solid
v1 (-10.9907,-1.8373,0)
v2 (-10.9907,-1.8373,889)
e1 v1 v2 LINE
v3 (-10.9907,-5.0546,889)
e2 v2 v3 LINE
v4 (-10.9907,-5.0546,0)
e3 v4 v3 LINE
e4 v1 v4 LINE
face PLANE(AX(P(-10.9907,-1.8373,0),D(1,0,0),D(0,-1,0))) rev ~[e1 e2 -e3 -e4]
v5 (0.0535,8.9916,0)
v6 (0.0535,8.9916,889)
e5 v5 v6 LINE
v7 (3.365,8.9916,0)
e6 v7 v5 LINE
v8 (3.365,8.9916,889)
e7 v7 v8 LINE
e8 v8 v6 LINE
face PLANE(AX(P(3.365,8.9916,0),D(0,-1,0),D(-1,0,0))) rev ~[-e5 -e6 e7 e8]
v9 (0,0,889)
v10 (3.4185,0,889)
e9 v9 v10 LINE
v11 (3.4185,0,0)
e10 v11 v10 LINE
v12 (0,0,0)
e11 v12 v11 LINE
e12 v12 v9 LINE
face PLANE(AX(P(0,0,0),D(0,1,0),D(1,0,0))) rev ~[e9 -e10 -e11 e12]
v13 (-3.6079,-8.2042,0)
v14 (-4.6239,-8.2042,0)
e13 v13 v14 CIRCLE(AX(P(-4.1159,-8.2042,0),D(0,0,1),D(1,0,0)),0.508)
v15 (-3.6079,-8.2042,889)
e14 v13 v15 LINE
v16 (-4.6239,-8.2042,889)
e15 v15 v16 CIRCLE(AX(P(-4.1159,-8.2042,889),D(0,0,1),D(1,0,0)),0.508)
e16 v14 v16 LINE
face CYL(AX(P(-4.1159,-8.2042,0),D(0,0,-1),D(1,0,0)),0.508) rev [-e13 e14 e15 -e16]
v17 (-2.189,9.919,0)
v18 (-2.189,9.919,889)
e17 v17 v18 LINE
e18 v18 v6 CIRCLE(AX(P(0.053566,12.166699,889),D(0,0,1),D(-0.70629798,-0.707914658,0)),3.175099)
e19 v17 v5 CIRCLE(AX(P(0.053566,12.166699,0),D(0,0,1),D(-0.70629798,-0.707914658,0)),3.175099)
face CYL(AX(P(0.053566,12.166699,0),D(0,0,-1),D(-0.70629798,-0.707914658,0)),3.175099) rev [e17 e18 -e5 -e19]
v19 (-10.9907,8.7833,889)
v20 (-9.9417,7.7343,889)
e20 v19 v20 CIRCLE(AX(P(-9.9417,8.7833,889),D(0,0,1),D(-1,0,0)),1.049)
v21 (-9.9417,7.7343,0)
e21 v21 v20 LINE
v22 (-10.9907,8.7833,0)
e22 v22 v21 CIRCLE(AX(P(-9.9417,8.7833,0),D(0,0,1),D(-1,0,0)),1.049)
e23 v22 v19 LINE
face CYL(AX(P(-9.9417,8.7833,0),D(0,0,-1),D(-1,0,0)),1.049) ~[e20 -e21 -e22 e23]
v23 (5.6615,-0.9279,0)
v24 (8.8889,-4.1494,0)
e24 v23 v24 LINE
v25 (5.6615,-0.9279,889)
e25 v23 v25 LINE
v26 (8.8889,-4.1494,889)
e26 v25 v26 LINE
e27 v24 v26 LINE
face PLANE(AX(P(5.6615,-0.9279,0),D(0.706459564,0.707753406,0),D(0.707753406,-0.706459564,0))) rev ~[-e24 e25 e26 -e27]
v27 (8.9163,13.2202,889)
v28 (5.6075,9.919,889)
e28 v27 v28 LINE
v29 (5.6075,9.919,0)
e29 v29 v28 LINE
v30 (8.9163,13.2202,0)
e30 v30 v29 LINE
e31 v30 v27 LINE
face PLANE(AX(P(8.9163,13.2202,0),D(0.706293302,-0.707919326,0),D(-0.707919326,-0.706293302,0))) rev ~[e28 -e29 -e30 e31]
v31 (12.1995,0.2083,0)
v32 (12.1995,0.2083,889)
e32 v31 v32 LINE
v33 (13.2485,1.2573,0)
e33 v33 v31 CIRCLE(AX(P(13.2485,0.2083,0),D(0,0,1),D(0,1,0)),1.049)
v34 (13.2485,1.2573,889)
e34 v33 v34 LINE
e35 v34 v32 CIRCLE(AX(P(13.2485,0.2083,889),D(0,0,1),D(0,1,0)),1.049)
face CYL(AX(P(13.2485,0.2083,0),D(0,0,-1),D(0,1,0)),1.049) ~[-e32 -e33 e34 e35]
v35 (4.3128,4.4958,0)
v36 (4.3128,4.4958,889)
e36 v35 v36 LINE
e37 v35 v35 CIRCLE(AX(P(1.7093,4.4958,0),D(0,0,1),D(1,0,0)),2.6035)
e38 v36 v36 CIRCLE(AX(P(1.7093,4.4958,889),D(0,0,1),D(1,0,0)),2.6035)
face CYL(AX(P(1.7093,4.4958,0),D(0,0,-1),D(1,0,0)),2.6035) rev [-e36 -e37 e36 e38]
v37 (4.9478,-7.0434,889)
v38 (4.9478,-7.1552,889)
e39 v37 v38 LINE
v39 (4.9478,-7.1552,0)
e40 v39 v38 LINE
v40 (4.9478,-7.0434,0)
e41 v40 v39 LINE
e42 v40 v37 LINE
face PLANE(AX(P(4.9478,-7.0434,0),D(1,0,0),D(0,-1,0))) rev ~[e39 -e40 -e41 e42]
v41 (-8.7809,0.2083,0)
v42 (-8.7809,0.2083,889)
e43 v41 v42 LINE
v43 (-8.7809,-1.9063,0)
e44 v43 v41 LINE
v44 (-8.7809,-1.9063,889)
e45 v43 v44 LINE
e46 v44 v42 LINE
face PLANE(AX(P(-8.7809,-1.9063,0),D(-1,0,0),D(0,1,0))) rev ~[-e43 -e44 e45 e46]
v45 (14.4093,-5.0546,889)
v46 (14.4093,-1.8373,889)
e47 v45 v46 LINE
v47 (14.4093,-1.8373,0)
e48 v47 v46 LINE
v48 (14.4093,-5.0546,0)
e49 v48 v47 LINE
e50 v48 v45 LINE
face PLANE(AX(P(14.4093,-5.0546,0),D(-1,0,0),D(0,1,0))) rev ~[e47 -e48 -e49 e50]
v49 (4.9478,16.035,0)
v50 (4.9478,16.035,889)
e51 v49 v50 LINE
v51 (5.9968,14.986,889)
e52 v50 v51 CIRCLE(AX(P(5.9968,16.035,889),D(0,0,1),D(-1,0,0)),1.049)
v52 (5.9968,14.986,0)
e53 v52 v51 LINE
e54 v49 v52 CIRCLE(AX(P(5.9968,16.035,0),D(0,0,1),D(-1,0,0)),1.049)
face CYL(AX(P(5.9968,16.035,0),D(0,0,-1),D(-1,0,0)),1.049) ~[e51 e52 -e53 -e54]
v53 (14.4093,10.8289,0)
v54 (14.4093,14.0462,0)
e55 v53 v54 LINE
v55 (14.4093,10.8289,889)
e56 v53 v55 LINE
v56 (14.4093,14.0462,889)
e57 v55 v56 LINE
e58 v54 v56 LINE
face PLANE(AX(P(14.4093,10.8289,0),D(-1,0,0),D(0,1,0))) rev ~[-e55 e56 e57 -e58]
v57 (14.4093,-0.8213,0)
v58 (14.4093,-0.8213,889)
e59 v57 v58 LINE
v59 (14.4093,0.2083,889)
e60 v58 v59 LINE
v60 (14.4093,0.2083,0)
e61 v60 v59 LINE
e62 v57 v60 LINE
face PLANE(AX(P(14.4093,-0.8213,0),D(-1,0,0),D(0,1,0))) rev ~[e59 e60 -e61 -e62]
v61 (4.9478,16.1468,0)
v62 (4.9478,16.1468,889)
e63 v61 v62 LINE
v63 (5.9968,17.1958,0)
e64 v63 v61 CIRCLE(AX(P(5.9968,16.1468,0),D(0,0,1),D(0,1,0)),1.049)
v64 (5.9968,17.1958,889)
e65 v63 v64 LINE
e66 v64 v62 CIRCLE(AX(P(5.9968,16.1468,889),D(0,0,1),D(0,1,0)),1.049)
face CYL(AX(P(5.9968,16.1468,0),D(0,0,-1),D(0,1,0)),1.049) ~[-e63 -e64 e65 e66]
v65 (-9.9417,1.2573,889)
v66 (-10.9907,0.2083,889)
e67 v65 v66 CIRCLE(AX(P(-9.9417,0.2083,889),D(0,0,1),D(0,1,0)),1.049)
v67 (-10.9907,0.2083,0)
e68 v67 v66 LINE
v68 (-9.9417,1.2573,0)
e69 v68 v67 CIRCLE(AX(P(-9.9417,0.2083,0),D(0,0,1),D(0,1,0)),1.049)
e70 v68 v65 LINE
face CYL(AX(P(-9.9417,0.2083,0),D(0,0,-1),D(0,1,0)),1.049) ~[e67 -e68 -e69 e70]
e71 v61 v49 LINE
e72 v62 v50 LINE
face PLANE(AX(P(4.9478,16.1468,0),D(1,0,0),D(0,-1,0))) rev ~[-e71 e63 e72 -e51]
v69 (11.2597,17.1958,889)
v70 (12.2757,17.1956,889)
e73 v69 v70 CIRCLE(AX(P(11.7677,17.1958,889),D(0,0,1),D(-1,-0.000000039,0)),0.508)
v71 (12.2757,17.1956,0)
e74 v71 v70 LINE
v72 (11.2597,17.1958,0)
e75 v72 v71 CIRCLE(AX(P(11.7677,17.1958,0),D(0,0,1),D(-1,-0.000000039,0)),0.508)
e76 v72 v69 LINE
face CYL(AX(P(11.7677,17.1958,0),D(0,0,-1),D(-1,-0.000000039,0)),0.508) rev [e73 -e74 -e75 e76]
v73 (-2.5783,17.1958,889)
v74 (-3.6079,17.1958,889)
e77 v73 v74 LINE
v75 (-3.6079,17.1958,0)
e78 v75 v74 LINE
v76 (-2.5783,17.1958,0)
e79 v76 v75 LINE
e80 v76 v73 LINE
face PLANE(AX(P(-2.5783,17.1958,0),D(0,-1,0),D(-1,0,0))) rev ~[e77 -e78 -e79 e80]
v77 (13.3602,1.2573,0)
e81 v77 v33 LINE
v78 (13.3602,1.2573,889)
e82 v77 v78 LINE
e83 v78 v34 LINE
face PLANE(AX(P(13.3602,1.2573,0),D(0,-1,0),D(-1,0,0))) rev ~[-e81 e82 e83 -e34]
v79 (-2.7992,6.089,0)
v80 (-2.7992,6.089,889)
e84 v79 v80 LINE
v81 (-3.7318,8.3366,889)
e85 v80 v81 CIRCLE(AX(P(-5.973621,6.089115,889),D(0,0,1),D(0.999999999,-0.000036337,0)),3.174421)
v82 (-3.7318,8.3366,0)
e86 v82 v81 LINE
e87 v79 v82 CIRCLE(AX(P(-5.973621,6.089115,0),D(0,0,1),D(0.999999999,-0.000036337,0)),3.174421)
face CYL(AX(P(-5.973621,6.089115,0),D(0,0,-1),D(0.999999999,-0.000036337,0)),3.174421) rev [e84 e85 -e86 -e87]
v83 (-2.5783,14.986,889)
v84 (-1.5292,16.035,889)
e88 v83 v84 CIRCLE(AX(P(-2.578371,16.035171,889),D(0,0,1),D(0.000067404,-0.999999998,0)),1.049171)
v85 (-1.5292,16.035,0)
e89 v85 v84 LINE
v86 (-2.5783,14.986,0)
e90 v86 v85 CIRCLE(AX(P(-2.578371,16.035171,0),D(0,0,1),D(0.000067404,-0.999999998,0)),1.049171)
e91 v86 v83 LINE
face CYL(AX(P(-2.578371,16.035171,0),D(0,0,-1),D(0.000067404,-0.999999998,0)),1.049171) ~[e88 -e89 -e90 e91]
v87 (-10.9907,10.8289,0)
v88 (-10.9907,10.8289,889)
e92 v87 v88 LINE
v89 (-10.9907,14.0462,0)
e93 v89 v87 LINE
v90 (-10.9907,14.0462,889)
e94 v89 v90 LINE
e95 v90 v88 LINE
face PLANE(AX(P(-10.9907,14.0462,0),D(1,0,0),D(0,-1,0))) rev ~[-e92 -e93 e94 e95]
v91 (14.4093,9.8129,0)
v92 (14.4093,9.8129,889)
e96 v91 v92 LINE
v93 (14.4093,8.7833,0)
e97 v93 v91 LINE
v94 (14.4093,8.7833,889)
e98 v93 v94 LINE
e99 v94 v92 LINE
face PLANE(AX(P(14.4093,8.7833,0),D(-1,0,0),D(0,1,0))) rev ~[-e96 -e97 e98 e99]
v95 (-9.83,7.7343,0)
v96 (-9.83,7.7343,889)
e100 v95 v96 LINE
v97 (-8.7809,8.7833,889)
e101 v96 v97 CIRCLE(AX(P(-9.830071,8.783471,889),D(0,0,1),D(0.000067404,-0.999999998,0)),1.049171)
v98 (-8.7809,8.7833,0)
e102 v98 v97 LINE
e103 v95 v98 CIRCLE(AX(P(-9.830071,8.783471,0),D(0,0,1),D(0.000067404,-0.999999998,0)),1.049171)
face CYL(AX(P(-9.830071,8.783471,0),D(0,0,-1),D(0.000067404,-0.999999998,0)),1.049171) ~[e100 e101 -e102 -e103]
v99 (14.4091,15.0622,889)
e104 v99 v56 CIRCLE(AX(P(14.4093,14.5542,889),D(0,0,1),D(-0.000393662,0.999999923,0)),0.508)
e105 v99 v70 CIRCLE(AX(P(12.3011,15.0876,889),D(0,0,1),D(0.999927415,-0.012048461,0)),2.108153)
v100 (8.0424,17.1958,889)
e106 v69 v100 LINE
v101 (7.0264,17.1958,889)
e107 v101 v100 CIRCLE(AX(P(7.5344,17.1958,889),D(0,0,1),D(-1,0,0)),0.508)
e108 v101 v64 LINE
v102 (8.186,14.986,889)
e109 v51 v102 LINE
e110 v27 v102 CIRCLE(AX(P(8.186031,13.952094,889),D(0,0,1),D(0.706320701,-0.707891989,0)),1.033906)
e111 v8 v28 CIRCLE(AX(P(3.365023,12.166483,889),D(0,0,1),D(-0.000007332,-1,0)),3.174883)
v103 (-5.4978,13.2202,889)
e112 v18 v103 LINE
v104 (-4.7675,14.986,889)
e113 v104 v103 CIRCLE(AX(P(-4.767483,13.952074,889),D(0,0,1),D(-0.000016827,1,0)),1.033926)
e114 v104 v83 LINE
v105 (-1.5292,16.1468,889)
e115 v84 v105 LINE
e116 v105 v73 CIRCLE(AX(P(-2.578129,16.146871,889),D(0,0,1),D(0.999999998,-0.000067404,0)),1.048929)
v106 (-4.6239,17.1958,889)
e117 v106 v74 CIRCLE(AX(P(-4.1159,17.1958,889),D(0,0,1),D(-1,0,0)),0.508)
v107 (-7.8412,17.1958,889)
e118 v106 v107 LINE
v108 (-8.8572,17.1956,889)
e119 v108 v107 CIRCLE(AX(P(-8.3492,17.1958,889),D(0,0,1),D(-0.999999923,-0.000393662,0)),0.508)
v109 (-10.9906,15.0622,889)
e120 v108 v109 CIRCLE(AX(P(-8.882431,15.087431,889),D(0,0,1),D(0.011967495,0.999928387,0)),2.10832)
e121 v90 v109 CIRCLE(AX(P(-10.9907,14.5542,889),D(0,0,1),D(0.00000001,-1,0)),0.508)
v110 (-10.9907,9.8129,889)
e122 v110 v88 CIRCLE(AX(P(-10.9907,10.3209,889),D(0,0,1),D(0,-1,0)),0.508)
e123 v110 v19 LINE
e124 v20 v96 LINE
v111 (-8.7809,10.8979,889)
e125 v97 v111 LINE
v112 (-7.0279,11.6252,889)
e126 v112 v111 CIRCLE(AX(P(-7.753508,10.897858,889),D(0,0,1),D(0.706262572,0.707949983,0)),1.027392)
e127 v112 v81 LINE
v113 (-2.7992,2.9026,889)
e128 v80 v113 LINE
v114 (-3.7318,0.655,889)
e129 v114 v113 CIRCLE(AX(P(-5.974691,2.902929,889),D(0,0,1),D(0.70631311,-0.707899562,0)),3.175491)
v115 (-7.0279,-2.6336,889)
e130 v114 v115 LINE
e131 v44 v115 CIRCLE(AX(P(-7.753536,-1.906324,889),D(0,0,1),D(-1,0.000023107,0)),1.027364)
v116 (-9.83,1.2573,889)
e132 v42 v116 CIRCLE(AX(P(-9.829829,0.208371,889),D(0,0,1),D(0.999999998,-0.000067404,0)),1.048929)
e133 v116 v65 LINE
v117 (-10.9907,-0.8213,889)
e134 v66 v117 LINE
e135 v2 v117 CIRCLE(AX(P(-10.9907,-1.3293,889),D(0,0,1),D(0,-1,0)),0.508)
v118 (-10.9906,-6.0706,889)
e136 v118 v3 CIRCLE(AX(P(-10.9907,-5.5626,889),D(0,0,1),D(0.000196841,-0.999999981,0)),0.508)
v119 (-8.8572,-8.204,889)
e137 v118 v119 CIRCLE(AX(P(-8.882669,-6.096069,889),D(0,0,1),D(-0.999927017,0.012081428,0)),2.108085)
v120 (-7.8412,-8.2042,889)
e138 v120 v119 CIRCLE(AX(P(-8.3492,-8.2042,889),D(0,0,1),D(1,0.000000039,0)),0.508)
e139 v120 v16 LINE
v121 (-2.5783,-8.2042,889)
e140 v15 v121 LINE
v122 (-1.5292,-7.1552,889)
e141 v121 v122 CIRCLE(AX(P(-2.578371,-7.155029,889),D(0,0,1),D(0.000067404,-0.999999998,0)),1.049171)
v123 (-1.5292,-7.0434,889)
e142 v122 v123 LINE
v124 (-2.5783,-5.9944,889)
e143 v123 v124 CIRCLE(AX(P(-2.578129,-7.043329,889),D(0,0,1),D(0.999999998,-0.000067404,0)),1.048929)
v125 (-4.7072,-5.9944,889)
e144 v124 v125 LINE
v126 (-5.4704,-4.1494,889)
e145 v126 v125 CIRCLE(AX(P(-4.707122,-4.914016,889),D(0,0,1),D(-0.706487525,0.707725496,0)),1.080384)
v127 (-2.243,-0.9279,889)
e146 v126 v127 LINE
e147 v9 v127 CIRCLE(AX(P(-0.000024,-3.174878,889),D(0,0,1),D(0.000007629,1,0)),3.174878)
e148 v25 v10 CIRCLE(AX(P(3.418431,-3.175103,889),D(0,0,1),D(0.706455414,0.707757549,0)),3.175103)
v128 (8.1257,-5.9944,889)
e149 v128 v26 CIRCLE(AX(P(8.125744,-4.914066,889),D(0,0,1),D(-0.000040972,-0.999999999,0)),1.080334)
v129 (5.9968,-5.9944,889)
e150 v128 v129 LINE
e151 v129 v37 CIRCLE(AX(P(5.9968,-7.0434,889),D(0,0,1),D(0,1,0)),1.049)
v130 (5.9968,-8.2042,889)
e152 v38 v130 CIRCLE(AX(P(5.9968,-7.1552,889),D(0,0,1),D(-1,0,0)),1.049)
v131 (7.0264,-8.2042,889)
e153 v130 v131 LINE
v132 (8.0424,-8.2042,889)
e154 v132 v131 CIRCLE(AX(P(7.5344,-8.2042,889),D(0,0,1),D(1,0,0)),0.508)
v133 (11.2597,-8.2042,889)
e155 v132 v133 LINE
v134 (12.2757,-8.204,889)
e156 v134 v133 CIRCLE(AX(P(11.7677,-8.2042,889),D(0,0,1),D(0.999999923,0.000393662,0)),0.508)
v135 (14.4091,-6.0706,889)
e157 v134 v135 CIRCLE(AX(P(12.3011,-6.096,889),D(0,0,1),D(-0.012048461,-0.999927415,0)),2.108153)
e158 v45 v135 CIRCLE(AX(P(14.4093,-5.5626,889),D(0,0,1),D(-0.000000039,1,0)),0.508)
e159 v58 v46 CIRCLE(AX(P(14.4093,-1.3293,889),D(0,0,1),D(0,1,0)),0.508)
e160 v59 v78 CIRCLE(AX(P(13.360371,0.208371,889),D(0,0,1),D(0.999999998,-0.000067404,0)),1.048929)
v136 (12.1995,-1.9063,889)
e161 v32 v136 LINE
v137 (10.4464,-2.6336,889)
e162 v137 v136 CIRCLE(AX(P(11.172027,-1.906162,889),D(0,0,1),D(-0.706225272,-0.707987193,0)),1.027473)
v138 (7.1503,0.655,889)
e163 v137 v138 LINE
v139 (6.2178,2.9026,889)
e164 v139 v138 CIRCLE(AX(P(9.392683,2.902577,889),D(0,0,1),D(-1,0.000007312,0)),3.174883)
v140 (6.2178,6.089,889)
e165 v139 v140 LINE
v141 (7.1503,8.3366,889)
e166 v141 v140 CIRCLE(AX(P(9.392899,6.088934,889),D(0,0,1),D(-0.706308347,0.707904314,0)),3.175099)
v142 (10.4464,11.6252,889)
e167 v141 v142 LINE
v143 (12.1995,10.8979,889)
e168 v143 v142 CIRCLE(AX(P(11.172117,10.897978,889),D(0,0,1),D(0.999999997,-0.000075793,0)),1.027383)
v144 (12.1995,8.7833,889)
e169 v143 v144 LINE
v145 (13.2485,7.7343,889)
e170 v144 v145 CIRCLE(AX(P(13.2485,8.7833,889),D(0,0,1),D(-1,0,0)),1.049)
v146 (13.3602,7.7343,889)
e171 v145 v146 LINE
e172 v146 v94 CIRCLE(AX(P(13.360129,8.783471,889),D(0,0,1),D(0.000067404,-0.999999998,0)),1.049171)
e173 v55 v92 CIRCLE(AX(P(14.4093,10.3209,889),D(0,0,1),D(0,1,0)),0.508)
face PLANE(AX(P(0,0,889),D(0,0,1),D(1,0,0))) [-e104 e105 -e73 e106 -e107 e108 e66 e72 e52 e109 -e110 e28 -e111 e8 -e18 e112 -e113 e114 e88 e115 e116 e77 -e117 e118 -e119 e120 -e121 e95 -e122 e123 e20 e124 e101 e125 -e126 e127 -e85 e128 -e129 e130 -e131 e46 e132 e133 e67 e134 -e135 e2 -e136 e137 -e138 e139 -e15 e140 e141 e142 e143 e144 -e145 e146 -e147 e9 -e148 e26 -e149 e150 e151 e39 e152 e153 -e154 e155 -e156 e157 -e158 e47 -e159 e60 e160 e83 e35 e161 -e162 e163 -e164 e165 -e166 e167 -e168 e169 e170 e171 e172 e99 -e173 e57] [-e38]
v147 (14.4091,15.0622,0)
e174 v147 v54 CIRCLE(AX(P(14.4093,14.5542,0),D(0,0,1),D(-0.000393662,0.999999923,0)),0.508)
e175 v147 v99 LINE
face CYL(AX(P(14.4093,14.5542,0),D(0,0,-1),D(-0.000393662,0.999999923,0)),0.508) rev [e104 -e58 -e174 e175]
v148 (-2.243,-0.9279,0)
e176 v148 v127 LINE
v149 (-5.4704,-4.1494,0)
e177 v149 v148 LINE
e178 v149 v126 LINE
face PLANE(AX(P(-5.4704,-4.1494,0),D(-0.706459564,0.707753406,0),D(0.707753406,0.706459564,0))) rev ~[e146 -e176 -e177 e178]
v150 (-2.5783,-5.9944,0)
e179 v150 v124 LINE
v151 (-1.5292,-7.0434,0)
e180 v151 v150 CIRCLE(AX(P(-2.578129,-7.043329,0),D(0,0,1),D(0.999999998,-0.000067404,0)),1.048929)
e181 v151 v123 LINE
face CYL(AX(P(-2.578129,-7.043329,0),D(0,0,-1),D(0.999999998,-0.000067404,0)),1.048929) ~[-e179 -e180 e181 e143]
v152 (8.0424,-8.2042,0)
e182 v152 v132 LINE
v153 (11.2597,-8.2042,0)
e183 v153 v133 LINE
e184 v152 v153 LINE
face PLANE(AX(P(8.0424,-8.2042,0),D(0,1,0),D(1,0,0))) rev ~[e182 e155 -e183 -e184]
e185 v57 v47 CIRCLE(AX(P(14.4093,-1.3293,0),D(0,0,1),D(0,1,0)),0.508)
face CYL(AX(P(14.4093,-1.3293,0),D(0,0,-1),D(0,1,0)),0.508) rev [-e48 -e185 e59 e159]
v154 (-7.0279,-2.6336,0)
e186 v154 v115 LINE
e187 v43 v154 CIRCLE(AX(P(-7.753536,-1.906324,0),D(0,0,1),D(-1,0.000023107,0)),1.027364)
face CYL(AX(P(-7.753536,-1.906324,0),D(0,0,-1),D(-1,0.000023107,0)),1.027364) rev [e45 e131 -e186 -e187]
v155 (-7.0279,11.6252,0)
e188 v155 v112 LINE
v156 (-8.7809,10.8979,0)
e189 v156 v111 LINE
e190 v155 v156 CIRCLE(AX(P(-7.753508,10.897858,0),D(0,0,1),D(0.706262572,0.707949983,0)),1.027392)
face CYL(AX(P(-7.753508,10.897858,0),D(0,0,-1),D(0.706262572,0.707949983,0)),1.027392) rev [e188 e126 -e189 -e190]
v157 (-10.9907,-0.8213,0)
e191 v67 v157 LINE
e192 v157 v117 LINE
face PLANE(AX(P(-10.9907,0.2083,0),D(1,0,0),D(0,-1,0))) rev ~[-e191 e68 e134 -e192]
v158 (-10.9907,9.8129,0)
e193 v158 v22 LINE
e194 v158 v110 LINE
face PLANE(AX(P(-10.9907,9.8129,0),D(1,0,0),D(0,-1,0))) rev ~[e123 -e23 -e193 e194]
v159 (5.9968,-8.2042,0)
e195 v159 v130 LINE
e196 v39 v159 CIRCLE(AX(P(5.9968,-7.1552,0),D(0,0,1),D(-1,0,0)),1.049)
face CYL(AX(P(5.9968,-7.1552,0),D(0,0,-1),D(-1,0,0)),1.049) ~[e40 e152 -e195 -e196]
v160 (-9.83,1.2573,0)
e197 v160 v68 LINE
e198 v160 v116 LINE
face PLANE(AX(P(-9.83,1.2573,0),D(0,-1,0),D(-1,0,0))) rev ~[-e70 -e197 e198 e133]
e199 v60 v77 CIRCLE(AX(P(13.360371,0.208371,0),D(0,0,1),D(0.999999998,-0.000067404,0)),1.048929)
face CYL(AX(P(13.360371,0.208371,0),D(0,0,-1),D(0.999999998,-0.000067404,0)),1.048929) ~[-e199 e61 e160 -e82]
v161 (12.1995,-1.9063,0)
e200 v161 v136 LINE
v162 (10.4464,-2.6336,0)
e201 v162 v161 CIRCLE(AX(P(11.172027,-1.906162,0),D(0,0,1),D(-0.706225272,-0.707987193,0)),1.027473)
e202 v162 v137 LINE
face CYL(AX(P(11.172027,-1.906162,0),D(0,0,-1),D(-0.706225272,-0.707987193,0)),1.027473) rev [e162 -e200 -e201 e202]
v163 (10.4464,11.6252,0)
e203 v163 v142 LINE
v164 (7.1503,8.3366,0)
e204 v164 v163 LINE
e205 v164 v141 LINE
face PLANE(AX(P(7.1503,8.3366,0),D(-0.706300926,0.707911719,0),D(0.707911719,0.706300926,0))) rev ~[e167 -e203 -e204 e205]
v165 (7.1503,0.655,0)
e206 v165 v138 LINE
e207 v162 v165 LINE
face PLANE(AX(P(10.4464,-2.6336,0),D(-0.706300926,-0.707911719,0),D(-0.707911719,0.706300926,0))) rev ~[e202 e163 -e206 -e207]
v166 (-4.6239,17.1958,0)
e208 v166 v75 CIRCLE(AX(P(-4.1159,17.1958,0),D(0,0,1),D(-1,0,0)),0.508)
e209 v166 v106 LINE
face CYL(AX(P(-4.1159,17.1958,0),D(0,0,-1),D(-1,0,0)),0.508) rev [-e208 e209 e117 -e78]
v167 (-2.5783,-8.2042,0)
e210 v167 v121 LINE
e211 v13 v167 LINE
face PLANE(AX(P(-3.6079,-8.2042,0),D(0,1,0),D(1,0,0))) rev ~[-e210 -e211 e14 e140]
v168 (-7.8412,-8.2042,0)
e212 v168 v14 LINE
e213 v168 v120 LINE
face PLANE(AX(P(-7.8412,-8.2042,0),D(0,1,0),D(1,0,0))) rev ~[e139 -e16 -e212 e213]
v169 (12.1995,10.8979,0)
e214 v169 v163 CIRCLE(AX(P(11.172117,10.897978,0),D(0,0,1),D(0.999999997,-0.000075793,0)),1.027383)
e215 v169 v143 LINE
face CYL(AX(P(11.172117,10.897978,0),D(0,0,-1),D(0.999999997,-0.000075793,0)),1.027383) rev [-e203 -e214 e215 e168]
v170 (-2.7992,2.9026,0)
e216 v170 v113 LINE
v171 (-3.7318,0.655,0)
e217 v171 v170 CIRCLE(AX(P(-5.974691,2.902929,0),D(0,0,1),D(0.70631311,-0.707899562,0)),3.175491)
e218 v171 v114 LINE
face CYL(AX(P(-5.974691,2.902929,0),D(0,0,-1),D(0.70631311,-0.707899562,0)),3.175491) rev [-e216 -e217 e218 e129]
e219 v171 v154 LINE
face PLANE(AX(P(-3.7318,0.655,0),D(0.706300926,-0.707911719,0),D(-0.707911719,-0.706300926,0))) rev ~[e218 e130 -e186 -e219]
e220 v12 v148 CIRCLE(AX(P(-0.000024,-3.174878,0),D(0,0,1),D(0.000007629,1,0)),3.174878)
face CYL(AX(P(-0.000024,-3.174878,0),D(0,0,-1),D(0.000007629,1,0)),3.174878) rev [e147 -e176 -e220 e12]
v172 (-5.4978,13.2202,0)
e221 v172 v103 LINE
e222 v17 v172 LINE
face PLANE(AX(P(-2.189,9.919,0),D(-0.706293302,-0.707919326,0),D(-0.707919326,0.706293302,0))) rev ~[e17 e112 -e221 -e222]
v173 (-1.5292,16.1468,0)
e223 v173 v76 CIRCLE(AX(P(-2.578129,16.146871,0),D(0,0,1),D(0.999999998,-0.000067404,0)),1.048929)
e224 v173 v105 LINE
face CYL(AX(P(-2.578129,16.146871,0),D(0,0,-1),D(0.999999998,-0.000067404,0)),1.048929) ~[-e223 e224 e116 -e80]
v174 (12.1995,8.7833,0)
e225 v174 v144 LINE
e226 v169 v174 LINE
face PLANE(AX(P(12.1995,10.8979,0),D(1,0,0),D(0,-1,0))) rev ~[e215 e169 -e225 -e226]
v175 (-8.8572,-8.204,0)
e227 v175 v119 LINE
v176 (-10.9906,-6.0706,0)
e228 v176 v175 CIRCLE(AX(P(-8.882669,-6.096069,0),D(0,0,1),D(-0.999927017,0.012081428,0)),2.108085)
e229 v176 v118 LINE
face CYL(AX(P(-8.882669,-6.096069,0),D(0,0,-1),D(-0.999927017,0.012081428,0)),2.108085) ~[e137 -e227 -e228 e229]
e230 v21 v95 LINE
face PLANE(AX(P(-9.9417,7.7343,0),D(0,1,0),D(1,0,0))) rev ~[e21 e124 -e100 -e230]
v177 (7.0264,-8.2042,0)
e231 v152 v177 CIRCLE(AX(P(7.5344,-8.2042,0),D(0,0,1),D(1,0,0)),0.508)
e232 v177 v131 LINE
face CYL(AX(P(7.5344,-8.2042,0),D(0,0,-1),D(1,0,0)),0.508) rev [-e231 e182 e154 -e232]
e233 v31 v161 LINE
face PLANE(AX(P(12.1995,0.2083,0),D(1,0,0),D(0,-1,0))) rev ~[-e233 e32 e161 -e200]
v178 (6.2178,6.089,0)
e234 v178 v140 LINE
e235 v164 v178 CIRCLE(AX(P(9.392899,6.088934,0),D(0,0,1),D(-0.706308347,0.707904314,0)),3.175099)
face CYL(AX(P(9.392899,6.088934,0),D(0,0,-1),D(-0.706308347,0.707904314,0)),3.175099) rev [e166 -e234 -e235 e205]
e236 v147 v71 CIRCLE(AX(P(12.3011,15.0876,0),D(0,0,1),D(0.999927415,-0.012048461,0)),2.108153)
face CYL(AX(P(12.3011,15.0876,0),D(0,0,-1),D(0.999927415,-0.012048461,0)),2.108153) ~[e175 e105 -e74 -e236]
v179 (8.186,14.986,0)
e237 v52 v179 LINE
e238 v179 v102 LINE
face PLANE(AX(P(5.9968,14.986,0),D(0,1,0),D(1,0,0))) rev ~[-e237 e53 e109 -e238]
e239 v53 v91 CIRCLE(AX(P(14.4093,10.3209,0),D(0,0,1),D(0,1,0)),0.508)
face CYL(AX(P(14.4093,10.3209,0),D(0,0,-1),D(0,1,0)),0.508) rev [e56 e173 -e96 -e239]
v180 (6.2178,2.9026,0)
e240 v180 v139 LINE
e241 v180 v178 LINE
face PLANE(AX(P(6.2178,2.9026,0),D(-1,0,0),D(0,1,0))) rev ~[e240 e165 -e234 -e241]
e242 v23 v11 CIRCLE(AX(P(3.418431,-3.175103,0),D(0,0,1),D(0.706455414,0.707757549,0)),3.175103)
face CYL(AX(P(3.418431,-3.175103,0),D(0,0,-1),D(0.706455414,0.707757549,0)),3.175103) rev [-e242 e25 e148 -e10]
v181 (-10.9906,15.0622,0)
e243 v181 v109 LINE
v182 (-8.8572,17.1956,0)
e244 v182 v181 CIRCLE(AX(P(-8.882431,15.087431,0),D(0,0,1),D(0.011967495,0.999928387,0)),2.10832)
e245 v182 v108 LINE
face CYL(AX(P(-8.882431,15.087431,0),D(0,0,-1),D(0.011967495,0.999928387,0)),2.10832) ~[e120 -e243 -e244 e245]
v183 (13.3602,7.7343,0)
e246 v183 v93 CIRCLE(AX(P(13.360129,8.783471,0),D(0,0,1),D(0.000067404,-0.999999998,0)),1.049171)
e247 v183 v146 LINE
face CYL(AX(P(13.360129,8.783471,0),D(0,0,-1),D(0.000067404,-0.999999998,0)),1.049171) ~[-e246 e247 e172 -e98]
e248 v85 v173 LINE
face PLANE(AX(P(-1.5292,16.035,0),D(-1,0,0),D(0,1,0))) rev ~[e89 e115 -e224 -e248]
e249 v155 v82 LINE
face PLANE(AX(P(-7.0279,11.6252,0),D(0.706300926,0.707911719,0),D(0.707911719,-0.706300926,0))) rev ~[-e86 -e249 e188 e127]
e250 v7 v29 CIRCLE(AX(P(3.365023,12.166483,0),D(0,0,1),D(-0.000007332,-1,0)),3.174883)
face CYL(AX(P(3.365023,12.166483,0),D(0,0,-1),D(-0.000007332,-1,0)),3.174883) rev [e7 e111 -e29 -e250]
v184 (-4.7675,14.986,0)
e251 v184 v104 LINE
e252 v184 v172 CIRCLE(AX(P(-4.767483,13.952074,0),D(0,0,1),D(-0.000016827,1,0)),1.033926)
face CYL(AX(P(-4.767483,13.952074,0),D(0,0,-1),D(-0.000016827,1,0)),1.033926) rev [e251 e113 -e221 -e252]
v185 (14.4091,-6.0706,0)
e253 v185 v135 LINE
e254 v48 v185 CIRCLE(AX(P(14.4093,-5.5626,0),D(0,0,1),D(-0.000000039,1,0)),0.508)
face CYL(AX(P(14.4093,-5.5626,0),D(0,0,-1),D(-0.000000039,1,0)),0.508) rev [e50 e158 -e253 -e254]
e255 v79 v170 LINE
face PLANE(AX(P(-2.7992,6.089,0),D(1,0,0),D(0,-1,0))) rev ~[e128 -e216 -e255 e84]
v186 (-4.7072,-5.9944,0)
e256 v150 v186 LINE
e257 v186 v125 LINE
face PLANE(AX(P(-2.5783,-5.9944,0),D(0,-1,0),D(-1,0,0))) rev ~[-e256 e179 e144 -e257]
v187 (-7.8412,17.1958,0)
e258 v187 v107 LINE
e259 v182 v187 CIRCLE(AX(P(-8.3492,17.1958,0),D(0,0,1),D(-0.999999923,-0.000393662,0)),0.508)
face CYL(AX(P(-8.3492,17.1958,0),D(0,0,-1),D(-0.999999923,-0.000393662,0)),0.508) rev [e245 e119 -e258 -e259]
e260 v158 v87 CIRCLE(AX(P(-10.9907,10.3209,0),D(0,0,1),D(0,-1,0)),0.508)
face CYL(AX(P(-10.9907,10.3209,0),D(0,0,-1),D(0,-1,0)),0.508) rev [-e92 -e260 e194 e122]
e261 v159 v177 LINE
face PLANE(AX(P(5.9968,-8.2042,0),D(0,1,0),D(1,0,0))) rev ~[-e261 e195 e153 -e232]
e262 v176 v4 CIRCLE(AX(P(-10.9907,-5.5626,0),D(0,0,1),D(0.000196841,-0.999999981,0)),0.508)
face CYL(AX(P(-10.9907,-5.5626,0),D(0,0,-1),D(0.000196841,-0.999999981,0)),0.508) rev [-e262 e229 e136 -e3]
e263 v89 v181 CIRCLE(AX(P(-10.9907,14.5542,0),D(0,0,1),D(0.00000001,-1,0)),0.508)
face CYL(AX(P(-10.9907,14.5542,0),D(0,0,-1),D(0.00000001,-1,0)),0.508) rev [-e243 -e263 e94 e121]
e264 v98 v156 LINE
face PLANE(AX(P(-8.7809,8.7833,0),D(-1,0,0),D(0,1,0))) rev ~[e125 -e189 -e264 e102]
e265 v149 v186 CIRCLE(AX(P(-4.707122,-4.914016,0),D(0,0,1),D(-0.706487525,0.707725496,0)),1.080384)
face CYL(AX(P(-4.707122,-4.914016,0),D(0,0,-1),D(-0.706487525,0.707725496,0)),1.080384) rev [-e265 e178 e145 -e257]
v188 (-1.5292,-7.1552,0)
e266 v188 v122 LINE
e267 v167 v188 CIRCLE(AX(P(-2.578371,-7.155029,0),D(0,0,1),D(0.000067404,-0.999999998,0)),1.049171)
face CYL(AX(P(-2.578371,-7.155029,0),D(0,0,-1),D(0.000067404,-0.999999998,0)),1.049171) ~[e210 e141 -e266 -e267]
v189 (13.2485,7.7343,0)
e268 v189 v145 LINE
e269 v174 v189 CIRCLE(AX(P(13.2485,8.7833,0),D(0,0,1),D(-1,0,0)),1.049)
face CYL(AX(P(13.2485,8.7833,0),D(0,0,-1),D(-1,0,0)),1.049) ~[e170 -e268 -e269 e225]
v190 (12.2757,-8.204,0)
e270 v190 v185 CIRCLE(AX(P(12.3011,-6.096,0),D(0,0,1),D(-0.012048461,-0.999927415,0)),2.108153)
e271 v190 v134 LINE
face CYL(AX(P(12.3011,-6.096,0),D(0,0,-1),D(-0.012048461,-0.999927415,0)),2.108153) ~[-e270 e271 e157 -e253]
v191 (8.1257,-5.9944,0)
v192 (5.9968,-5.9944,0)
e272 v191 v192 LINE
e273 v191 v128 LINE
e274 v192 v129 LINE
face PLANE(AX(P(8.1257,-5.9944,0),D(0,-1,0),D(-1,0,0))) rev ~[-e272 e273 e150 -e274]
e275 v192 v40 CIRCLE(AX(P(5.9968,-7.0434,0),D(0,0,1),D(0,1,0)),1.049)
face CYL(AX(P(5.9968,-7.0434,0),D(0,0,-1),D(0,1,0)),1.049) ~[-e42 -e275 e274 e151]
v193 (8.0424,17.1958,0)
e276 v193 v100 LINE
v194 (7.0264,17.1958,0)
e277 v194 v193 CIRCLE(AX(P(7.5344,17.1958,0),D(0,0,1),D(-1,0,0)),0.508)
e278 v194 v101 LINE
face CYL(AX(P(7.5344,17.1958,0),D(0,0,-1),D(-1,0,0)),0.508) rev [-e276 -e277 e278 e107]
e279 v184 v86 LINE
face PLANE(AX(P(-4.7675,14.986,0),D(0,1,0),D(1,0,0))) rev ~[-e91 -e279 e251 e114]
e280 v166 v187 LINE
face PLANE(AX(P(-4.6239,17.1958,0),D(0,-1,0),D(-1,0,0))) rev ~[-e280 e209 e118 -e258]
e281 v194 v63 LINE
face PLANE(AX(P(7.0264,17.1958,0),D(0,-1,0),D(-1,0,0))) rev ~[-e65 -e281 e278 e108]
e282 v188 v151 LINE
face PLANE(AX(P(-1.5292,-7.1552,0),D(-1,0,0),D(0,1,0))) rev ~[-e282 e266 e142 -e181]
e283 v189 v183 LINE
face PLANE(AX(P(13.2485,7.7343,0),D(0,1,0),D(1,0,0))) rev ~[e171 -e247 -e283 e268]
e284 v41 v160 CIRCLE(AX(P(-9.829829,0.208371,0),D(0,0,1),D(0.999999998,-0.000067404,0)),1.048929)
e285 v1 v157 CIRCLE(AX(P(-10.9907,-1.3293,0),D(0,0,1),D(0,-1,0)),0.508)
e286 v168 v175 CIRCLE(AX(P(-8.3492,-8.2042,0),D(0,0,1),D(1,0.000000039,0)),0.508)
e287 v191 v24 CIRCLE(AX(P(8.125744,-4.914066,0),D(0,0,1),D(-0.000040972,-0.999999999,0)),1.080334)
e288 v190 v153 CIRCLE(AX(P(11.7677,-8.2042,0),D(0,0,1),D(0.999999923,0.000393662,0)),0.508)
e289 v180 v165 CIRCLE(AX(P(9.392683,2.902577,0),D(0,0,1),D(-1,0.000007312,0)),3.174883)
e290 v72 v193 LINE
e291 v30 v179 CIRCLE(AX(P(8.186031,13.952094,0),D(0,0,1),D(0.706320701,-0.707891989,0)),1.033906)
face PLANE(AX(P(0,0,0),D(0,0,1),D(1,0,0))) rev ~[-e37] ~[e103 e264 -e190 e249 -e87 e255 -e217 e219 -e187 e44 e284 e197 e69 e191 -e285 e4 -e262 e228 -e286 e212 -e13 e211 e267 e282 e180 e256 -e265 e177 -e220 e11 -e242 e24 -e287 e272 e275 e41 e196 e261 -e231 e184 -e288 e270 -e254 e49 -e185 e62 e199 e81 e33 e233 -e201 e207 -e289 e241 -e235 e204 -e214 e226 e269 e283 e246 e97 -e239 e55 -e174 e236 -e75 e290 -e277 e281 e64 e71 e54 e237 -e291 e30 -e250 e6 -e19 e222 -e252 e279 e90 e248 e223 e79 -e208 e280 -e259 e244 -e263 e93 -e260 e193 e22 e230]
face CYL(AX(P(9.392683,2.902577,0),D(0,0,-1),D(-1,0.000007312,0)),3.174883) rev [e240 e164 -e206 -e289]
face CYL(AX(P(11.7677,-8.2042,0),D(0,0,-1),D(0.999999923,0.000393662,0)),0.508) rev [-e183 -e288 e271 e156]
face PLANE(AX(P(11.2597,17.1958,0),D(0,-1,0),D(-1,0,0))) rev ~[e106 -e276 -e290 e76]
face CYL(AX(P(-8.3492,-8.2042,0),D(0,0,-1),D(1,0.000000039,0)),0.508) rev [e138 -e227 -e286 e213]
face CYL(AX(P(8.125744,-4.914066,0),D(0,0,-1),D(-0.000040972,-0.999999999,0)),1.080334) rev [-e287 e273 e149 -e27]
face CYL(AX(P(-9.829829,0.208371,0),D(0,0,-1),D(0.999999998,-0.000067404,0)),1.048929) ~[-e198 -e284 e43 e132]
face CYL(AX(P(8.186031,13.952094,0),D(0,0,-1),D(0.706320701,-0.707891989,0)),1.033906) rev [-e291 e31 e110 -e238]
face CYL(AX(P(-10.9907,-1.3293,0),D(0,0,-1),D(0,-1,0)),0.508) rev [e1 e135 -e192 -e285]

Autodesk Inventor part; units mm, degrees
ref_plane "YZ Plane" through (0, 0, 0) normal (1, 0, 0) x (0, 1, 0)
ref_plane "XZ Plane" through (0, 0, 0) normal (0, 1, 0) x (-1, 0, 0)
ref_plane "XY Plane" through (0, 0, 0) normal (0, 0, 1) x (1, 0, 0)
sketch "Sketch1" plane through (0, 0, 0) normal (0, 0, 1) x (1, 0, 0)
  arc A0 (-5.4704, -4.1494) -> (-4.7072, -5.9944) centre (-4.7072, -4.914) ccw
  line L0 (-5.4704, -4.1494) -> (-2.243, -0.9279)
  arc A1 (0, 0) -> (-2.243, -0.9279) centre (0, -3.175) ccw
  line L1 (0, 0) -> (3.4185, 0)
  arc A2 (5.6615, -0.9279) -> (3.4185, 0) centre (3.4185, -3.175) ccw
  line L2 (5.6615, -0.9279) -> (8.8889, -4.1494)
  arc A3 (8.1257, -5.9944) -> (8.8889, -4.1494) centre (8.1257, -4.914) ccw
  line L3 (8.1257, -5.9944) -> (5.9968, -5.9944)
  arc A4 (5.9968, -5.9944) -> (4.9478, -7.0434) centre (5.9968, -7.0434) ccw
  line L4 (4.9478, -7.0434) -> (4.9478, -7.1552)
  arc A5 (4.9478, -7.1552) -> (5.9968, -8.2042) centre (5.9968, -7.1552) ccw
  line L5 (5.9968, -8.2042) -> (7.0264, -8.2042)
  arc A6 (8.0424, -8.2042) -> (7.0264, -8.2042) centre (7.5344, -8.2042) ccw
  line L6 (8.0424, -8.2042) -> (11.2597, -8.2042)
  arc A7 (12.2757, -8.204) -> (11.2597, -8.2042) centre (11.7677, -8.2042) ccw
  arc A8 (12.2757, -8.204) -> (14.4091, -6.0706) centre (12.3011, -6.096) ccw
  arc A9 (14.4093, -5.0546) -> (14.4091, -6.0706) centre (14.4093, -5.5626) ccw
  line L7 (14.4093, -5.0546) -> (14.4093, -1.8373)
  arc A10 (14.4093, -0.8213) -> (14.4093, -1.8373) centre (14.4093, -1.3293) ccw
  line L8 (14.4093, -0.8213) -> (14.4093, 0.2083)
  arc A11 (14.4093, 0.2083) -> (13.3602, 1.2573) centre (13.3602, 0.2083) ccw
  line L9 (13.3602, 1.2573) -> (13.2485, 1.2573)
  arc A12 (13.2485, 1.2573) -> (12.1995, 0.2083) centre (13.2485, 0.2083) ccw
  line L10 (12.1995, 0.2083) -> (12.1995, -1.9063)
  arc A13 (10.4464, -2.6336) -> (12.1995, -1.9063) centre (11.172, -1.9063) ccw
  line L11 (10.4464, -2.6336) -> (7.1503, 0.655)
  arc A14 (6.2178, 2.9026) -> (7.1503, 0.655) centre (9.3928, 2.9026) ccw
  line L12 (6.2178, 2.9026) -> (6.2178, 6.089)
  arc A15 (7.1503, 8.3366) -> (6.2178, 6.089) centre (9.3928, 6.089) ccw
  line L13 (7.1503, 8.3366) -> (10.4464, 11.6252)
  arc A16 (12.1995, 10.8979) -> (10.4464, 11.6252) centre (11.172, 10.8979) ccw
  line L14 (12.1995, 10.8979) -> (12.1995, 8.7833)
  arc A17 (12.1995, 8.7833) -> (13.2485, 7.7343) centre (13.2485, 8.7833) ccw
  line L15 (13.2485, 7.7343) -> (13.3602, 7.7343)
  arc A18 (13.3602, 7.7343) -> (14.4093, 8.7833) centre (13.3602, 8.7833) ccw
  line L16 (14.4093, 8.7833) -> (14.4093, 9.8129)
  arc A19 (14.4093, 10.8289) -> (14.4093, 9.8129) centre (14.4093, 10.3209) ccw
  line L17 (14.4093, 10.8289) -> (14.4093, 14.0462)
  arc A20 (14.4091, 15.0622) -> (14.4093, 14.0462) centre (14.4093, 14.5542) ccw
  arc A21 (14.4091, 15.0622) -> (12.2757, 17.1956) centre (12.3011, 15.0876) ccw
  arc A22 (11.2597, 17.1958) -> (12.2757, 17.1956) centre (11.7677, 17.1958) ccw
  line L18 (11.2597, 17.1958) -> (8.0424, 17.1958)
  arc A23 (7.0264, 17.1958) -> (8.0424, 17.1958) centre (7.5344, 17.1958) ccw
  line L19 (7.0264, 17.1958) -> (5.9968, 17.1958)
  arc A24 (5.9968, 17.1958) -> (4.9478, 16.1468) centre (5.9968, 16.1468) ccw
  line L20 (4.9478, 16.1468) -> (4.9478, 16.035)
  arc A25 (4.9478, 16.035) -> (5.9968, 14.986) centre (5.9968, 16.035) ccw
  line L21 (5.9968, 14.986) -> (8.186, 14.986)
  arc A26 (8.9163, 13.2202) -> (8.186, 14.986) centre (8.186, 13.9521) ccw
  line L22 (8.9163, 13.2202) -> (5.6075, 9.919)
  arc A27 (3.365, 8.9916) -> (5.6075, 9.919) centre (3.365, 12.1666) ccw
  line L23 (3.365, 8.9916) -> (0.0535, 8.9916)
  arc A28 (-2.189, 9.919) -> (0.0535, 8.9916) centre (0.0535, 12.1666) ccw
  line L24 (-2.189, 9.919) -> (-5.4978, 13.2202)
  arc A29 (-4.7675, 14.986) -> (-5.4978, 13.2202) centre (-4.7675, 13.9521) ccw
  line L25 (-4.7675, 14.986) -> (-2.5783, 14.986)
  arc A30 (-2.5783, 14.986) -> (-1.5292, 16.035) centre (-2.5783, 16.035) ccw
  line L26 (-1.5292, 16.035) -> (-1.5292, 16.1468)
  arc A31 (-1.5292, 16.1468) -> (-2.5783, 17.1958) centre (-2.5783, 16.1468) ccw
  line L27 (-2.5783, 17.1958) -> (-3.6079, 17.1958)
  arc A32 (-4.6239, 17.1958) -> (-3.6079, 17.1958) centre (-4.1159, 17.1958) ccw
  line L28 (-4.6239, 17.1958) -> (-7.8412, 17.1958)
  arc A33 (-8.8572, 17.1956) -> (-7.8412, 17.1958) centre (-8.3492, 17.1958) ccw
  arc A34 (-8.8572, 17.1956) -> (-10.9906, 15.0622) centre (-8.8825, 15.0876) ccw
  arc A35 (-10.9907, 14.0462) -> (-10.9906, 15.0622) centre (-10.9907, 14.5542) ccw
  line L29 (-10.9907, 14.0462) -> (-10.9907, 10.8289)
  arc A36 (-10.9907, 9.8129) -> (-10.9907, 10.8289) centre (-10.9907, 10.3209) ccw
  line L30 (-10.9907, 9.8129) -> (-10.9907, 8.7833)
  arc A37 (-10.9907, 8.7833) -> (-9.9417, 7.7343) centre (-9.9417, 8.7833) ccw
  line L31 (-9.9417, 7.7343) -> (-9.83, 7.7343)
  arc A38 (-9.83, 7.7343) -> (-8.7809, 8.7833) centre (-9.83, 8.7833) ccw
  line L32 (-8.7809, 8.7833) -> (-8.7809, 10.8979)
  arc A39 (-7.0279, 11.6252) -> (-8.7809, 10.8979) centre (-7.7535, 10.8979) ccw
  line L33 (-7.0279, 11.6252) -> (-3.7318, 8.3366)
  arc A40 (-2.7992, 6.089) -> (-3.7318, 8.3366) centre (-5.9742, 6.089) ccw
  line L34 (-2.7992, 6.089) -> (-2.7992, 2.9026)
  arc A41 (-3.7318, 0.655) -> (-2.7992, 2.9026) centre (-5.9742, 2.9026) ccw
  line L35 (-3.7318, 0.655) -> (-7.0279, -2.6336)
  arc A42 (-8.7809, -1.9063) -> (-7.0279, -2.6336) centre (-7.7535, -1.9063) ccw
  line L36 (-8.7809, -1.9063) -> (-8.7809, 0.2083)
  arc A43 (-8.7809, 0.2083) -> (-9.83, 1.2573) centre (-9.83, 0.2083) ccw
  line L37 (-9.83, 1.2573) -> (-9.9417, 1.2573)
  arc A44 (-9.9417, 1.2573) -> (-10.9907, 0.2083) centre (-9.9417, 0.2083) ccw
  line L38 (-10.9907, 0.2083) -> (-10.9907, -0.8213)
  arc A45 (-10.9907, -1.8373) -> (-10.9907, -0.8213) centre (-10.9907, -1.3293) ccw
  line L39 (-10.9907, -1.8373) -> (-10.9907, -5.0546)
  arc A46 (-10.9906, -6.0706) -> (-10.9907, -5.0546) centre (-10.9907, -5.5626) ccw
  arc A47 (-10.9906, -6.0706) -> (-8.8572, -8.204) centre (-8.8825, -6.096) ccw
  arc A48 (-7.8412, -8.2042) -> (-8.8572, -8.204) centre (-8.3492, -8.2042) ccw
  line L40 (-7.8412, -8.2042) -> (-4.6239, -8.2042)
  arc A49 (-3.6079, -8.2042) -> (-4.6239, -8.2042) centre (-4.1159, -8.2042) ccw
  line L41 (-3.6079, -8.2042) -> (-2.5783, -8.2042)
  arc A50 (-2.5783, -8.2042) -> (-1.5292, -7.1552) centre (-2.5783, -7.1552) ccw
  line L42 (-1.5292, -7.1552) -> (-1.5292, -7.0434)
  arc A51 (-1.5292, -7.0434) -> (-2.5783, -5.9944) centre (-2.5783, -7.0434) ccw
  line L43 (-2.5783, -5.9944) -> (-4.7072, -5.9944)
  circle A52 centre (1.7093, 4.4958) radius 2.6035
extrude "Extrusion1" add sketch "Sketch1" along normal blind 889
properties part number "35in 1x1 T slot"
